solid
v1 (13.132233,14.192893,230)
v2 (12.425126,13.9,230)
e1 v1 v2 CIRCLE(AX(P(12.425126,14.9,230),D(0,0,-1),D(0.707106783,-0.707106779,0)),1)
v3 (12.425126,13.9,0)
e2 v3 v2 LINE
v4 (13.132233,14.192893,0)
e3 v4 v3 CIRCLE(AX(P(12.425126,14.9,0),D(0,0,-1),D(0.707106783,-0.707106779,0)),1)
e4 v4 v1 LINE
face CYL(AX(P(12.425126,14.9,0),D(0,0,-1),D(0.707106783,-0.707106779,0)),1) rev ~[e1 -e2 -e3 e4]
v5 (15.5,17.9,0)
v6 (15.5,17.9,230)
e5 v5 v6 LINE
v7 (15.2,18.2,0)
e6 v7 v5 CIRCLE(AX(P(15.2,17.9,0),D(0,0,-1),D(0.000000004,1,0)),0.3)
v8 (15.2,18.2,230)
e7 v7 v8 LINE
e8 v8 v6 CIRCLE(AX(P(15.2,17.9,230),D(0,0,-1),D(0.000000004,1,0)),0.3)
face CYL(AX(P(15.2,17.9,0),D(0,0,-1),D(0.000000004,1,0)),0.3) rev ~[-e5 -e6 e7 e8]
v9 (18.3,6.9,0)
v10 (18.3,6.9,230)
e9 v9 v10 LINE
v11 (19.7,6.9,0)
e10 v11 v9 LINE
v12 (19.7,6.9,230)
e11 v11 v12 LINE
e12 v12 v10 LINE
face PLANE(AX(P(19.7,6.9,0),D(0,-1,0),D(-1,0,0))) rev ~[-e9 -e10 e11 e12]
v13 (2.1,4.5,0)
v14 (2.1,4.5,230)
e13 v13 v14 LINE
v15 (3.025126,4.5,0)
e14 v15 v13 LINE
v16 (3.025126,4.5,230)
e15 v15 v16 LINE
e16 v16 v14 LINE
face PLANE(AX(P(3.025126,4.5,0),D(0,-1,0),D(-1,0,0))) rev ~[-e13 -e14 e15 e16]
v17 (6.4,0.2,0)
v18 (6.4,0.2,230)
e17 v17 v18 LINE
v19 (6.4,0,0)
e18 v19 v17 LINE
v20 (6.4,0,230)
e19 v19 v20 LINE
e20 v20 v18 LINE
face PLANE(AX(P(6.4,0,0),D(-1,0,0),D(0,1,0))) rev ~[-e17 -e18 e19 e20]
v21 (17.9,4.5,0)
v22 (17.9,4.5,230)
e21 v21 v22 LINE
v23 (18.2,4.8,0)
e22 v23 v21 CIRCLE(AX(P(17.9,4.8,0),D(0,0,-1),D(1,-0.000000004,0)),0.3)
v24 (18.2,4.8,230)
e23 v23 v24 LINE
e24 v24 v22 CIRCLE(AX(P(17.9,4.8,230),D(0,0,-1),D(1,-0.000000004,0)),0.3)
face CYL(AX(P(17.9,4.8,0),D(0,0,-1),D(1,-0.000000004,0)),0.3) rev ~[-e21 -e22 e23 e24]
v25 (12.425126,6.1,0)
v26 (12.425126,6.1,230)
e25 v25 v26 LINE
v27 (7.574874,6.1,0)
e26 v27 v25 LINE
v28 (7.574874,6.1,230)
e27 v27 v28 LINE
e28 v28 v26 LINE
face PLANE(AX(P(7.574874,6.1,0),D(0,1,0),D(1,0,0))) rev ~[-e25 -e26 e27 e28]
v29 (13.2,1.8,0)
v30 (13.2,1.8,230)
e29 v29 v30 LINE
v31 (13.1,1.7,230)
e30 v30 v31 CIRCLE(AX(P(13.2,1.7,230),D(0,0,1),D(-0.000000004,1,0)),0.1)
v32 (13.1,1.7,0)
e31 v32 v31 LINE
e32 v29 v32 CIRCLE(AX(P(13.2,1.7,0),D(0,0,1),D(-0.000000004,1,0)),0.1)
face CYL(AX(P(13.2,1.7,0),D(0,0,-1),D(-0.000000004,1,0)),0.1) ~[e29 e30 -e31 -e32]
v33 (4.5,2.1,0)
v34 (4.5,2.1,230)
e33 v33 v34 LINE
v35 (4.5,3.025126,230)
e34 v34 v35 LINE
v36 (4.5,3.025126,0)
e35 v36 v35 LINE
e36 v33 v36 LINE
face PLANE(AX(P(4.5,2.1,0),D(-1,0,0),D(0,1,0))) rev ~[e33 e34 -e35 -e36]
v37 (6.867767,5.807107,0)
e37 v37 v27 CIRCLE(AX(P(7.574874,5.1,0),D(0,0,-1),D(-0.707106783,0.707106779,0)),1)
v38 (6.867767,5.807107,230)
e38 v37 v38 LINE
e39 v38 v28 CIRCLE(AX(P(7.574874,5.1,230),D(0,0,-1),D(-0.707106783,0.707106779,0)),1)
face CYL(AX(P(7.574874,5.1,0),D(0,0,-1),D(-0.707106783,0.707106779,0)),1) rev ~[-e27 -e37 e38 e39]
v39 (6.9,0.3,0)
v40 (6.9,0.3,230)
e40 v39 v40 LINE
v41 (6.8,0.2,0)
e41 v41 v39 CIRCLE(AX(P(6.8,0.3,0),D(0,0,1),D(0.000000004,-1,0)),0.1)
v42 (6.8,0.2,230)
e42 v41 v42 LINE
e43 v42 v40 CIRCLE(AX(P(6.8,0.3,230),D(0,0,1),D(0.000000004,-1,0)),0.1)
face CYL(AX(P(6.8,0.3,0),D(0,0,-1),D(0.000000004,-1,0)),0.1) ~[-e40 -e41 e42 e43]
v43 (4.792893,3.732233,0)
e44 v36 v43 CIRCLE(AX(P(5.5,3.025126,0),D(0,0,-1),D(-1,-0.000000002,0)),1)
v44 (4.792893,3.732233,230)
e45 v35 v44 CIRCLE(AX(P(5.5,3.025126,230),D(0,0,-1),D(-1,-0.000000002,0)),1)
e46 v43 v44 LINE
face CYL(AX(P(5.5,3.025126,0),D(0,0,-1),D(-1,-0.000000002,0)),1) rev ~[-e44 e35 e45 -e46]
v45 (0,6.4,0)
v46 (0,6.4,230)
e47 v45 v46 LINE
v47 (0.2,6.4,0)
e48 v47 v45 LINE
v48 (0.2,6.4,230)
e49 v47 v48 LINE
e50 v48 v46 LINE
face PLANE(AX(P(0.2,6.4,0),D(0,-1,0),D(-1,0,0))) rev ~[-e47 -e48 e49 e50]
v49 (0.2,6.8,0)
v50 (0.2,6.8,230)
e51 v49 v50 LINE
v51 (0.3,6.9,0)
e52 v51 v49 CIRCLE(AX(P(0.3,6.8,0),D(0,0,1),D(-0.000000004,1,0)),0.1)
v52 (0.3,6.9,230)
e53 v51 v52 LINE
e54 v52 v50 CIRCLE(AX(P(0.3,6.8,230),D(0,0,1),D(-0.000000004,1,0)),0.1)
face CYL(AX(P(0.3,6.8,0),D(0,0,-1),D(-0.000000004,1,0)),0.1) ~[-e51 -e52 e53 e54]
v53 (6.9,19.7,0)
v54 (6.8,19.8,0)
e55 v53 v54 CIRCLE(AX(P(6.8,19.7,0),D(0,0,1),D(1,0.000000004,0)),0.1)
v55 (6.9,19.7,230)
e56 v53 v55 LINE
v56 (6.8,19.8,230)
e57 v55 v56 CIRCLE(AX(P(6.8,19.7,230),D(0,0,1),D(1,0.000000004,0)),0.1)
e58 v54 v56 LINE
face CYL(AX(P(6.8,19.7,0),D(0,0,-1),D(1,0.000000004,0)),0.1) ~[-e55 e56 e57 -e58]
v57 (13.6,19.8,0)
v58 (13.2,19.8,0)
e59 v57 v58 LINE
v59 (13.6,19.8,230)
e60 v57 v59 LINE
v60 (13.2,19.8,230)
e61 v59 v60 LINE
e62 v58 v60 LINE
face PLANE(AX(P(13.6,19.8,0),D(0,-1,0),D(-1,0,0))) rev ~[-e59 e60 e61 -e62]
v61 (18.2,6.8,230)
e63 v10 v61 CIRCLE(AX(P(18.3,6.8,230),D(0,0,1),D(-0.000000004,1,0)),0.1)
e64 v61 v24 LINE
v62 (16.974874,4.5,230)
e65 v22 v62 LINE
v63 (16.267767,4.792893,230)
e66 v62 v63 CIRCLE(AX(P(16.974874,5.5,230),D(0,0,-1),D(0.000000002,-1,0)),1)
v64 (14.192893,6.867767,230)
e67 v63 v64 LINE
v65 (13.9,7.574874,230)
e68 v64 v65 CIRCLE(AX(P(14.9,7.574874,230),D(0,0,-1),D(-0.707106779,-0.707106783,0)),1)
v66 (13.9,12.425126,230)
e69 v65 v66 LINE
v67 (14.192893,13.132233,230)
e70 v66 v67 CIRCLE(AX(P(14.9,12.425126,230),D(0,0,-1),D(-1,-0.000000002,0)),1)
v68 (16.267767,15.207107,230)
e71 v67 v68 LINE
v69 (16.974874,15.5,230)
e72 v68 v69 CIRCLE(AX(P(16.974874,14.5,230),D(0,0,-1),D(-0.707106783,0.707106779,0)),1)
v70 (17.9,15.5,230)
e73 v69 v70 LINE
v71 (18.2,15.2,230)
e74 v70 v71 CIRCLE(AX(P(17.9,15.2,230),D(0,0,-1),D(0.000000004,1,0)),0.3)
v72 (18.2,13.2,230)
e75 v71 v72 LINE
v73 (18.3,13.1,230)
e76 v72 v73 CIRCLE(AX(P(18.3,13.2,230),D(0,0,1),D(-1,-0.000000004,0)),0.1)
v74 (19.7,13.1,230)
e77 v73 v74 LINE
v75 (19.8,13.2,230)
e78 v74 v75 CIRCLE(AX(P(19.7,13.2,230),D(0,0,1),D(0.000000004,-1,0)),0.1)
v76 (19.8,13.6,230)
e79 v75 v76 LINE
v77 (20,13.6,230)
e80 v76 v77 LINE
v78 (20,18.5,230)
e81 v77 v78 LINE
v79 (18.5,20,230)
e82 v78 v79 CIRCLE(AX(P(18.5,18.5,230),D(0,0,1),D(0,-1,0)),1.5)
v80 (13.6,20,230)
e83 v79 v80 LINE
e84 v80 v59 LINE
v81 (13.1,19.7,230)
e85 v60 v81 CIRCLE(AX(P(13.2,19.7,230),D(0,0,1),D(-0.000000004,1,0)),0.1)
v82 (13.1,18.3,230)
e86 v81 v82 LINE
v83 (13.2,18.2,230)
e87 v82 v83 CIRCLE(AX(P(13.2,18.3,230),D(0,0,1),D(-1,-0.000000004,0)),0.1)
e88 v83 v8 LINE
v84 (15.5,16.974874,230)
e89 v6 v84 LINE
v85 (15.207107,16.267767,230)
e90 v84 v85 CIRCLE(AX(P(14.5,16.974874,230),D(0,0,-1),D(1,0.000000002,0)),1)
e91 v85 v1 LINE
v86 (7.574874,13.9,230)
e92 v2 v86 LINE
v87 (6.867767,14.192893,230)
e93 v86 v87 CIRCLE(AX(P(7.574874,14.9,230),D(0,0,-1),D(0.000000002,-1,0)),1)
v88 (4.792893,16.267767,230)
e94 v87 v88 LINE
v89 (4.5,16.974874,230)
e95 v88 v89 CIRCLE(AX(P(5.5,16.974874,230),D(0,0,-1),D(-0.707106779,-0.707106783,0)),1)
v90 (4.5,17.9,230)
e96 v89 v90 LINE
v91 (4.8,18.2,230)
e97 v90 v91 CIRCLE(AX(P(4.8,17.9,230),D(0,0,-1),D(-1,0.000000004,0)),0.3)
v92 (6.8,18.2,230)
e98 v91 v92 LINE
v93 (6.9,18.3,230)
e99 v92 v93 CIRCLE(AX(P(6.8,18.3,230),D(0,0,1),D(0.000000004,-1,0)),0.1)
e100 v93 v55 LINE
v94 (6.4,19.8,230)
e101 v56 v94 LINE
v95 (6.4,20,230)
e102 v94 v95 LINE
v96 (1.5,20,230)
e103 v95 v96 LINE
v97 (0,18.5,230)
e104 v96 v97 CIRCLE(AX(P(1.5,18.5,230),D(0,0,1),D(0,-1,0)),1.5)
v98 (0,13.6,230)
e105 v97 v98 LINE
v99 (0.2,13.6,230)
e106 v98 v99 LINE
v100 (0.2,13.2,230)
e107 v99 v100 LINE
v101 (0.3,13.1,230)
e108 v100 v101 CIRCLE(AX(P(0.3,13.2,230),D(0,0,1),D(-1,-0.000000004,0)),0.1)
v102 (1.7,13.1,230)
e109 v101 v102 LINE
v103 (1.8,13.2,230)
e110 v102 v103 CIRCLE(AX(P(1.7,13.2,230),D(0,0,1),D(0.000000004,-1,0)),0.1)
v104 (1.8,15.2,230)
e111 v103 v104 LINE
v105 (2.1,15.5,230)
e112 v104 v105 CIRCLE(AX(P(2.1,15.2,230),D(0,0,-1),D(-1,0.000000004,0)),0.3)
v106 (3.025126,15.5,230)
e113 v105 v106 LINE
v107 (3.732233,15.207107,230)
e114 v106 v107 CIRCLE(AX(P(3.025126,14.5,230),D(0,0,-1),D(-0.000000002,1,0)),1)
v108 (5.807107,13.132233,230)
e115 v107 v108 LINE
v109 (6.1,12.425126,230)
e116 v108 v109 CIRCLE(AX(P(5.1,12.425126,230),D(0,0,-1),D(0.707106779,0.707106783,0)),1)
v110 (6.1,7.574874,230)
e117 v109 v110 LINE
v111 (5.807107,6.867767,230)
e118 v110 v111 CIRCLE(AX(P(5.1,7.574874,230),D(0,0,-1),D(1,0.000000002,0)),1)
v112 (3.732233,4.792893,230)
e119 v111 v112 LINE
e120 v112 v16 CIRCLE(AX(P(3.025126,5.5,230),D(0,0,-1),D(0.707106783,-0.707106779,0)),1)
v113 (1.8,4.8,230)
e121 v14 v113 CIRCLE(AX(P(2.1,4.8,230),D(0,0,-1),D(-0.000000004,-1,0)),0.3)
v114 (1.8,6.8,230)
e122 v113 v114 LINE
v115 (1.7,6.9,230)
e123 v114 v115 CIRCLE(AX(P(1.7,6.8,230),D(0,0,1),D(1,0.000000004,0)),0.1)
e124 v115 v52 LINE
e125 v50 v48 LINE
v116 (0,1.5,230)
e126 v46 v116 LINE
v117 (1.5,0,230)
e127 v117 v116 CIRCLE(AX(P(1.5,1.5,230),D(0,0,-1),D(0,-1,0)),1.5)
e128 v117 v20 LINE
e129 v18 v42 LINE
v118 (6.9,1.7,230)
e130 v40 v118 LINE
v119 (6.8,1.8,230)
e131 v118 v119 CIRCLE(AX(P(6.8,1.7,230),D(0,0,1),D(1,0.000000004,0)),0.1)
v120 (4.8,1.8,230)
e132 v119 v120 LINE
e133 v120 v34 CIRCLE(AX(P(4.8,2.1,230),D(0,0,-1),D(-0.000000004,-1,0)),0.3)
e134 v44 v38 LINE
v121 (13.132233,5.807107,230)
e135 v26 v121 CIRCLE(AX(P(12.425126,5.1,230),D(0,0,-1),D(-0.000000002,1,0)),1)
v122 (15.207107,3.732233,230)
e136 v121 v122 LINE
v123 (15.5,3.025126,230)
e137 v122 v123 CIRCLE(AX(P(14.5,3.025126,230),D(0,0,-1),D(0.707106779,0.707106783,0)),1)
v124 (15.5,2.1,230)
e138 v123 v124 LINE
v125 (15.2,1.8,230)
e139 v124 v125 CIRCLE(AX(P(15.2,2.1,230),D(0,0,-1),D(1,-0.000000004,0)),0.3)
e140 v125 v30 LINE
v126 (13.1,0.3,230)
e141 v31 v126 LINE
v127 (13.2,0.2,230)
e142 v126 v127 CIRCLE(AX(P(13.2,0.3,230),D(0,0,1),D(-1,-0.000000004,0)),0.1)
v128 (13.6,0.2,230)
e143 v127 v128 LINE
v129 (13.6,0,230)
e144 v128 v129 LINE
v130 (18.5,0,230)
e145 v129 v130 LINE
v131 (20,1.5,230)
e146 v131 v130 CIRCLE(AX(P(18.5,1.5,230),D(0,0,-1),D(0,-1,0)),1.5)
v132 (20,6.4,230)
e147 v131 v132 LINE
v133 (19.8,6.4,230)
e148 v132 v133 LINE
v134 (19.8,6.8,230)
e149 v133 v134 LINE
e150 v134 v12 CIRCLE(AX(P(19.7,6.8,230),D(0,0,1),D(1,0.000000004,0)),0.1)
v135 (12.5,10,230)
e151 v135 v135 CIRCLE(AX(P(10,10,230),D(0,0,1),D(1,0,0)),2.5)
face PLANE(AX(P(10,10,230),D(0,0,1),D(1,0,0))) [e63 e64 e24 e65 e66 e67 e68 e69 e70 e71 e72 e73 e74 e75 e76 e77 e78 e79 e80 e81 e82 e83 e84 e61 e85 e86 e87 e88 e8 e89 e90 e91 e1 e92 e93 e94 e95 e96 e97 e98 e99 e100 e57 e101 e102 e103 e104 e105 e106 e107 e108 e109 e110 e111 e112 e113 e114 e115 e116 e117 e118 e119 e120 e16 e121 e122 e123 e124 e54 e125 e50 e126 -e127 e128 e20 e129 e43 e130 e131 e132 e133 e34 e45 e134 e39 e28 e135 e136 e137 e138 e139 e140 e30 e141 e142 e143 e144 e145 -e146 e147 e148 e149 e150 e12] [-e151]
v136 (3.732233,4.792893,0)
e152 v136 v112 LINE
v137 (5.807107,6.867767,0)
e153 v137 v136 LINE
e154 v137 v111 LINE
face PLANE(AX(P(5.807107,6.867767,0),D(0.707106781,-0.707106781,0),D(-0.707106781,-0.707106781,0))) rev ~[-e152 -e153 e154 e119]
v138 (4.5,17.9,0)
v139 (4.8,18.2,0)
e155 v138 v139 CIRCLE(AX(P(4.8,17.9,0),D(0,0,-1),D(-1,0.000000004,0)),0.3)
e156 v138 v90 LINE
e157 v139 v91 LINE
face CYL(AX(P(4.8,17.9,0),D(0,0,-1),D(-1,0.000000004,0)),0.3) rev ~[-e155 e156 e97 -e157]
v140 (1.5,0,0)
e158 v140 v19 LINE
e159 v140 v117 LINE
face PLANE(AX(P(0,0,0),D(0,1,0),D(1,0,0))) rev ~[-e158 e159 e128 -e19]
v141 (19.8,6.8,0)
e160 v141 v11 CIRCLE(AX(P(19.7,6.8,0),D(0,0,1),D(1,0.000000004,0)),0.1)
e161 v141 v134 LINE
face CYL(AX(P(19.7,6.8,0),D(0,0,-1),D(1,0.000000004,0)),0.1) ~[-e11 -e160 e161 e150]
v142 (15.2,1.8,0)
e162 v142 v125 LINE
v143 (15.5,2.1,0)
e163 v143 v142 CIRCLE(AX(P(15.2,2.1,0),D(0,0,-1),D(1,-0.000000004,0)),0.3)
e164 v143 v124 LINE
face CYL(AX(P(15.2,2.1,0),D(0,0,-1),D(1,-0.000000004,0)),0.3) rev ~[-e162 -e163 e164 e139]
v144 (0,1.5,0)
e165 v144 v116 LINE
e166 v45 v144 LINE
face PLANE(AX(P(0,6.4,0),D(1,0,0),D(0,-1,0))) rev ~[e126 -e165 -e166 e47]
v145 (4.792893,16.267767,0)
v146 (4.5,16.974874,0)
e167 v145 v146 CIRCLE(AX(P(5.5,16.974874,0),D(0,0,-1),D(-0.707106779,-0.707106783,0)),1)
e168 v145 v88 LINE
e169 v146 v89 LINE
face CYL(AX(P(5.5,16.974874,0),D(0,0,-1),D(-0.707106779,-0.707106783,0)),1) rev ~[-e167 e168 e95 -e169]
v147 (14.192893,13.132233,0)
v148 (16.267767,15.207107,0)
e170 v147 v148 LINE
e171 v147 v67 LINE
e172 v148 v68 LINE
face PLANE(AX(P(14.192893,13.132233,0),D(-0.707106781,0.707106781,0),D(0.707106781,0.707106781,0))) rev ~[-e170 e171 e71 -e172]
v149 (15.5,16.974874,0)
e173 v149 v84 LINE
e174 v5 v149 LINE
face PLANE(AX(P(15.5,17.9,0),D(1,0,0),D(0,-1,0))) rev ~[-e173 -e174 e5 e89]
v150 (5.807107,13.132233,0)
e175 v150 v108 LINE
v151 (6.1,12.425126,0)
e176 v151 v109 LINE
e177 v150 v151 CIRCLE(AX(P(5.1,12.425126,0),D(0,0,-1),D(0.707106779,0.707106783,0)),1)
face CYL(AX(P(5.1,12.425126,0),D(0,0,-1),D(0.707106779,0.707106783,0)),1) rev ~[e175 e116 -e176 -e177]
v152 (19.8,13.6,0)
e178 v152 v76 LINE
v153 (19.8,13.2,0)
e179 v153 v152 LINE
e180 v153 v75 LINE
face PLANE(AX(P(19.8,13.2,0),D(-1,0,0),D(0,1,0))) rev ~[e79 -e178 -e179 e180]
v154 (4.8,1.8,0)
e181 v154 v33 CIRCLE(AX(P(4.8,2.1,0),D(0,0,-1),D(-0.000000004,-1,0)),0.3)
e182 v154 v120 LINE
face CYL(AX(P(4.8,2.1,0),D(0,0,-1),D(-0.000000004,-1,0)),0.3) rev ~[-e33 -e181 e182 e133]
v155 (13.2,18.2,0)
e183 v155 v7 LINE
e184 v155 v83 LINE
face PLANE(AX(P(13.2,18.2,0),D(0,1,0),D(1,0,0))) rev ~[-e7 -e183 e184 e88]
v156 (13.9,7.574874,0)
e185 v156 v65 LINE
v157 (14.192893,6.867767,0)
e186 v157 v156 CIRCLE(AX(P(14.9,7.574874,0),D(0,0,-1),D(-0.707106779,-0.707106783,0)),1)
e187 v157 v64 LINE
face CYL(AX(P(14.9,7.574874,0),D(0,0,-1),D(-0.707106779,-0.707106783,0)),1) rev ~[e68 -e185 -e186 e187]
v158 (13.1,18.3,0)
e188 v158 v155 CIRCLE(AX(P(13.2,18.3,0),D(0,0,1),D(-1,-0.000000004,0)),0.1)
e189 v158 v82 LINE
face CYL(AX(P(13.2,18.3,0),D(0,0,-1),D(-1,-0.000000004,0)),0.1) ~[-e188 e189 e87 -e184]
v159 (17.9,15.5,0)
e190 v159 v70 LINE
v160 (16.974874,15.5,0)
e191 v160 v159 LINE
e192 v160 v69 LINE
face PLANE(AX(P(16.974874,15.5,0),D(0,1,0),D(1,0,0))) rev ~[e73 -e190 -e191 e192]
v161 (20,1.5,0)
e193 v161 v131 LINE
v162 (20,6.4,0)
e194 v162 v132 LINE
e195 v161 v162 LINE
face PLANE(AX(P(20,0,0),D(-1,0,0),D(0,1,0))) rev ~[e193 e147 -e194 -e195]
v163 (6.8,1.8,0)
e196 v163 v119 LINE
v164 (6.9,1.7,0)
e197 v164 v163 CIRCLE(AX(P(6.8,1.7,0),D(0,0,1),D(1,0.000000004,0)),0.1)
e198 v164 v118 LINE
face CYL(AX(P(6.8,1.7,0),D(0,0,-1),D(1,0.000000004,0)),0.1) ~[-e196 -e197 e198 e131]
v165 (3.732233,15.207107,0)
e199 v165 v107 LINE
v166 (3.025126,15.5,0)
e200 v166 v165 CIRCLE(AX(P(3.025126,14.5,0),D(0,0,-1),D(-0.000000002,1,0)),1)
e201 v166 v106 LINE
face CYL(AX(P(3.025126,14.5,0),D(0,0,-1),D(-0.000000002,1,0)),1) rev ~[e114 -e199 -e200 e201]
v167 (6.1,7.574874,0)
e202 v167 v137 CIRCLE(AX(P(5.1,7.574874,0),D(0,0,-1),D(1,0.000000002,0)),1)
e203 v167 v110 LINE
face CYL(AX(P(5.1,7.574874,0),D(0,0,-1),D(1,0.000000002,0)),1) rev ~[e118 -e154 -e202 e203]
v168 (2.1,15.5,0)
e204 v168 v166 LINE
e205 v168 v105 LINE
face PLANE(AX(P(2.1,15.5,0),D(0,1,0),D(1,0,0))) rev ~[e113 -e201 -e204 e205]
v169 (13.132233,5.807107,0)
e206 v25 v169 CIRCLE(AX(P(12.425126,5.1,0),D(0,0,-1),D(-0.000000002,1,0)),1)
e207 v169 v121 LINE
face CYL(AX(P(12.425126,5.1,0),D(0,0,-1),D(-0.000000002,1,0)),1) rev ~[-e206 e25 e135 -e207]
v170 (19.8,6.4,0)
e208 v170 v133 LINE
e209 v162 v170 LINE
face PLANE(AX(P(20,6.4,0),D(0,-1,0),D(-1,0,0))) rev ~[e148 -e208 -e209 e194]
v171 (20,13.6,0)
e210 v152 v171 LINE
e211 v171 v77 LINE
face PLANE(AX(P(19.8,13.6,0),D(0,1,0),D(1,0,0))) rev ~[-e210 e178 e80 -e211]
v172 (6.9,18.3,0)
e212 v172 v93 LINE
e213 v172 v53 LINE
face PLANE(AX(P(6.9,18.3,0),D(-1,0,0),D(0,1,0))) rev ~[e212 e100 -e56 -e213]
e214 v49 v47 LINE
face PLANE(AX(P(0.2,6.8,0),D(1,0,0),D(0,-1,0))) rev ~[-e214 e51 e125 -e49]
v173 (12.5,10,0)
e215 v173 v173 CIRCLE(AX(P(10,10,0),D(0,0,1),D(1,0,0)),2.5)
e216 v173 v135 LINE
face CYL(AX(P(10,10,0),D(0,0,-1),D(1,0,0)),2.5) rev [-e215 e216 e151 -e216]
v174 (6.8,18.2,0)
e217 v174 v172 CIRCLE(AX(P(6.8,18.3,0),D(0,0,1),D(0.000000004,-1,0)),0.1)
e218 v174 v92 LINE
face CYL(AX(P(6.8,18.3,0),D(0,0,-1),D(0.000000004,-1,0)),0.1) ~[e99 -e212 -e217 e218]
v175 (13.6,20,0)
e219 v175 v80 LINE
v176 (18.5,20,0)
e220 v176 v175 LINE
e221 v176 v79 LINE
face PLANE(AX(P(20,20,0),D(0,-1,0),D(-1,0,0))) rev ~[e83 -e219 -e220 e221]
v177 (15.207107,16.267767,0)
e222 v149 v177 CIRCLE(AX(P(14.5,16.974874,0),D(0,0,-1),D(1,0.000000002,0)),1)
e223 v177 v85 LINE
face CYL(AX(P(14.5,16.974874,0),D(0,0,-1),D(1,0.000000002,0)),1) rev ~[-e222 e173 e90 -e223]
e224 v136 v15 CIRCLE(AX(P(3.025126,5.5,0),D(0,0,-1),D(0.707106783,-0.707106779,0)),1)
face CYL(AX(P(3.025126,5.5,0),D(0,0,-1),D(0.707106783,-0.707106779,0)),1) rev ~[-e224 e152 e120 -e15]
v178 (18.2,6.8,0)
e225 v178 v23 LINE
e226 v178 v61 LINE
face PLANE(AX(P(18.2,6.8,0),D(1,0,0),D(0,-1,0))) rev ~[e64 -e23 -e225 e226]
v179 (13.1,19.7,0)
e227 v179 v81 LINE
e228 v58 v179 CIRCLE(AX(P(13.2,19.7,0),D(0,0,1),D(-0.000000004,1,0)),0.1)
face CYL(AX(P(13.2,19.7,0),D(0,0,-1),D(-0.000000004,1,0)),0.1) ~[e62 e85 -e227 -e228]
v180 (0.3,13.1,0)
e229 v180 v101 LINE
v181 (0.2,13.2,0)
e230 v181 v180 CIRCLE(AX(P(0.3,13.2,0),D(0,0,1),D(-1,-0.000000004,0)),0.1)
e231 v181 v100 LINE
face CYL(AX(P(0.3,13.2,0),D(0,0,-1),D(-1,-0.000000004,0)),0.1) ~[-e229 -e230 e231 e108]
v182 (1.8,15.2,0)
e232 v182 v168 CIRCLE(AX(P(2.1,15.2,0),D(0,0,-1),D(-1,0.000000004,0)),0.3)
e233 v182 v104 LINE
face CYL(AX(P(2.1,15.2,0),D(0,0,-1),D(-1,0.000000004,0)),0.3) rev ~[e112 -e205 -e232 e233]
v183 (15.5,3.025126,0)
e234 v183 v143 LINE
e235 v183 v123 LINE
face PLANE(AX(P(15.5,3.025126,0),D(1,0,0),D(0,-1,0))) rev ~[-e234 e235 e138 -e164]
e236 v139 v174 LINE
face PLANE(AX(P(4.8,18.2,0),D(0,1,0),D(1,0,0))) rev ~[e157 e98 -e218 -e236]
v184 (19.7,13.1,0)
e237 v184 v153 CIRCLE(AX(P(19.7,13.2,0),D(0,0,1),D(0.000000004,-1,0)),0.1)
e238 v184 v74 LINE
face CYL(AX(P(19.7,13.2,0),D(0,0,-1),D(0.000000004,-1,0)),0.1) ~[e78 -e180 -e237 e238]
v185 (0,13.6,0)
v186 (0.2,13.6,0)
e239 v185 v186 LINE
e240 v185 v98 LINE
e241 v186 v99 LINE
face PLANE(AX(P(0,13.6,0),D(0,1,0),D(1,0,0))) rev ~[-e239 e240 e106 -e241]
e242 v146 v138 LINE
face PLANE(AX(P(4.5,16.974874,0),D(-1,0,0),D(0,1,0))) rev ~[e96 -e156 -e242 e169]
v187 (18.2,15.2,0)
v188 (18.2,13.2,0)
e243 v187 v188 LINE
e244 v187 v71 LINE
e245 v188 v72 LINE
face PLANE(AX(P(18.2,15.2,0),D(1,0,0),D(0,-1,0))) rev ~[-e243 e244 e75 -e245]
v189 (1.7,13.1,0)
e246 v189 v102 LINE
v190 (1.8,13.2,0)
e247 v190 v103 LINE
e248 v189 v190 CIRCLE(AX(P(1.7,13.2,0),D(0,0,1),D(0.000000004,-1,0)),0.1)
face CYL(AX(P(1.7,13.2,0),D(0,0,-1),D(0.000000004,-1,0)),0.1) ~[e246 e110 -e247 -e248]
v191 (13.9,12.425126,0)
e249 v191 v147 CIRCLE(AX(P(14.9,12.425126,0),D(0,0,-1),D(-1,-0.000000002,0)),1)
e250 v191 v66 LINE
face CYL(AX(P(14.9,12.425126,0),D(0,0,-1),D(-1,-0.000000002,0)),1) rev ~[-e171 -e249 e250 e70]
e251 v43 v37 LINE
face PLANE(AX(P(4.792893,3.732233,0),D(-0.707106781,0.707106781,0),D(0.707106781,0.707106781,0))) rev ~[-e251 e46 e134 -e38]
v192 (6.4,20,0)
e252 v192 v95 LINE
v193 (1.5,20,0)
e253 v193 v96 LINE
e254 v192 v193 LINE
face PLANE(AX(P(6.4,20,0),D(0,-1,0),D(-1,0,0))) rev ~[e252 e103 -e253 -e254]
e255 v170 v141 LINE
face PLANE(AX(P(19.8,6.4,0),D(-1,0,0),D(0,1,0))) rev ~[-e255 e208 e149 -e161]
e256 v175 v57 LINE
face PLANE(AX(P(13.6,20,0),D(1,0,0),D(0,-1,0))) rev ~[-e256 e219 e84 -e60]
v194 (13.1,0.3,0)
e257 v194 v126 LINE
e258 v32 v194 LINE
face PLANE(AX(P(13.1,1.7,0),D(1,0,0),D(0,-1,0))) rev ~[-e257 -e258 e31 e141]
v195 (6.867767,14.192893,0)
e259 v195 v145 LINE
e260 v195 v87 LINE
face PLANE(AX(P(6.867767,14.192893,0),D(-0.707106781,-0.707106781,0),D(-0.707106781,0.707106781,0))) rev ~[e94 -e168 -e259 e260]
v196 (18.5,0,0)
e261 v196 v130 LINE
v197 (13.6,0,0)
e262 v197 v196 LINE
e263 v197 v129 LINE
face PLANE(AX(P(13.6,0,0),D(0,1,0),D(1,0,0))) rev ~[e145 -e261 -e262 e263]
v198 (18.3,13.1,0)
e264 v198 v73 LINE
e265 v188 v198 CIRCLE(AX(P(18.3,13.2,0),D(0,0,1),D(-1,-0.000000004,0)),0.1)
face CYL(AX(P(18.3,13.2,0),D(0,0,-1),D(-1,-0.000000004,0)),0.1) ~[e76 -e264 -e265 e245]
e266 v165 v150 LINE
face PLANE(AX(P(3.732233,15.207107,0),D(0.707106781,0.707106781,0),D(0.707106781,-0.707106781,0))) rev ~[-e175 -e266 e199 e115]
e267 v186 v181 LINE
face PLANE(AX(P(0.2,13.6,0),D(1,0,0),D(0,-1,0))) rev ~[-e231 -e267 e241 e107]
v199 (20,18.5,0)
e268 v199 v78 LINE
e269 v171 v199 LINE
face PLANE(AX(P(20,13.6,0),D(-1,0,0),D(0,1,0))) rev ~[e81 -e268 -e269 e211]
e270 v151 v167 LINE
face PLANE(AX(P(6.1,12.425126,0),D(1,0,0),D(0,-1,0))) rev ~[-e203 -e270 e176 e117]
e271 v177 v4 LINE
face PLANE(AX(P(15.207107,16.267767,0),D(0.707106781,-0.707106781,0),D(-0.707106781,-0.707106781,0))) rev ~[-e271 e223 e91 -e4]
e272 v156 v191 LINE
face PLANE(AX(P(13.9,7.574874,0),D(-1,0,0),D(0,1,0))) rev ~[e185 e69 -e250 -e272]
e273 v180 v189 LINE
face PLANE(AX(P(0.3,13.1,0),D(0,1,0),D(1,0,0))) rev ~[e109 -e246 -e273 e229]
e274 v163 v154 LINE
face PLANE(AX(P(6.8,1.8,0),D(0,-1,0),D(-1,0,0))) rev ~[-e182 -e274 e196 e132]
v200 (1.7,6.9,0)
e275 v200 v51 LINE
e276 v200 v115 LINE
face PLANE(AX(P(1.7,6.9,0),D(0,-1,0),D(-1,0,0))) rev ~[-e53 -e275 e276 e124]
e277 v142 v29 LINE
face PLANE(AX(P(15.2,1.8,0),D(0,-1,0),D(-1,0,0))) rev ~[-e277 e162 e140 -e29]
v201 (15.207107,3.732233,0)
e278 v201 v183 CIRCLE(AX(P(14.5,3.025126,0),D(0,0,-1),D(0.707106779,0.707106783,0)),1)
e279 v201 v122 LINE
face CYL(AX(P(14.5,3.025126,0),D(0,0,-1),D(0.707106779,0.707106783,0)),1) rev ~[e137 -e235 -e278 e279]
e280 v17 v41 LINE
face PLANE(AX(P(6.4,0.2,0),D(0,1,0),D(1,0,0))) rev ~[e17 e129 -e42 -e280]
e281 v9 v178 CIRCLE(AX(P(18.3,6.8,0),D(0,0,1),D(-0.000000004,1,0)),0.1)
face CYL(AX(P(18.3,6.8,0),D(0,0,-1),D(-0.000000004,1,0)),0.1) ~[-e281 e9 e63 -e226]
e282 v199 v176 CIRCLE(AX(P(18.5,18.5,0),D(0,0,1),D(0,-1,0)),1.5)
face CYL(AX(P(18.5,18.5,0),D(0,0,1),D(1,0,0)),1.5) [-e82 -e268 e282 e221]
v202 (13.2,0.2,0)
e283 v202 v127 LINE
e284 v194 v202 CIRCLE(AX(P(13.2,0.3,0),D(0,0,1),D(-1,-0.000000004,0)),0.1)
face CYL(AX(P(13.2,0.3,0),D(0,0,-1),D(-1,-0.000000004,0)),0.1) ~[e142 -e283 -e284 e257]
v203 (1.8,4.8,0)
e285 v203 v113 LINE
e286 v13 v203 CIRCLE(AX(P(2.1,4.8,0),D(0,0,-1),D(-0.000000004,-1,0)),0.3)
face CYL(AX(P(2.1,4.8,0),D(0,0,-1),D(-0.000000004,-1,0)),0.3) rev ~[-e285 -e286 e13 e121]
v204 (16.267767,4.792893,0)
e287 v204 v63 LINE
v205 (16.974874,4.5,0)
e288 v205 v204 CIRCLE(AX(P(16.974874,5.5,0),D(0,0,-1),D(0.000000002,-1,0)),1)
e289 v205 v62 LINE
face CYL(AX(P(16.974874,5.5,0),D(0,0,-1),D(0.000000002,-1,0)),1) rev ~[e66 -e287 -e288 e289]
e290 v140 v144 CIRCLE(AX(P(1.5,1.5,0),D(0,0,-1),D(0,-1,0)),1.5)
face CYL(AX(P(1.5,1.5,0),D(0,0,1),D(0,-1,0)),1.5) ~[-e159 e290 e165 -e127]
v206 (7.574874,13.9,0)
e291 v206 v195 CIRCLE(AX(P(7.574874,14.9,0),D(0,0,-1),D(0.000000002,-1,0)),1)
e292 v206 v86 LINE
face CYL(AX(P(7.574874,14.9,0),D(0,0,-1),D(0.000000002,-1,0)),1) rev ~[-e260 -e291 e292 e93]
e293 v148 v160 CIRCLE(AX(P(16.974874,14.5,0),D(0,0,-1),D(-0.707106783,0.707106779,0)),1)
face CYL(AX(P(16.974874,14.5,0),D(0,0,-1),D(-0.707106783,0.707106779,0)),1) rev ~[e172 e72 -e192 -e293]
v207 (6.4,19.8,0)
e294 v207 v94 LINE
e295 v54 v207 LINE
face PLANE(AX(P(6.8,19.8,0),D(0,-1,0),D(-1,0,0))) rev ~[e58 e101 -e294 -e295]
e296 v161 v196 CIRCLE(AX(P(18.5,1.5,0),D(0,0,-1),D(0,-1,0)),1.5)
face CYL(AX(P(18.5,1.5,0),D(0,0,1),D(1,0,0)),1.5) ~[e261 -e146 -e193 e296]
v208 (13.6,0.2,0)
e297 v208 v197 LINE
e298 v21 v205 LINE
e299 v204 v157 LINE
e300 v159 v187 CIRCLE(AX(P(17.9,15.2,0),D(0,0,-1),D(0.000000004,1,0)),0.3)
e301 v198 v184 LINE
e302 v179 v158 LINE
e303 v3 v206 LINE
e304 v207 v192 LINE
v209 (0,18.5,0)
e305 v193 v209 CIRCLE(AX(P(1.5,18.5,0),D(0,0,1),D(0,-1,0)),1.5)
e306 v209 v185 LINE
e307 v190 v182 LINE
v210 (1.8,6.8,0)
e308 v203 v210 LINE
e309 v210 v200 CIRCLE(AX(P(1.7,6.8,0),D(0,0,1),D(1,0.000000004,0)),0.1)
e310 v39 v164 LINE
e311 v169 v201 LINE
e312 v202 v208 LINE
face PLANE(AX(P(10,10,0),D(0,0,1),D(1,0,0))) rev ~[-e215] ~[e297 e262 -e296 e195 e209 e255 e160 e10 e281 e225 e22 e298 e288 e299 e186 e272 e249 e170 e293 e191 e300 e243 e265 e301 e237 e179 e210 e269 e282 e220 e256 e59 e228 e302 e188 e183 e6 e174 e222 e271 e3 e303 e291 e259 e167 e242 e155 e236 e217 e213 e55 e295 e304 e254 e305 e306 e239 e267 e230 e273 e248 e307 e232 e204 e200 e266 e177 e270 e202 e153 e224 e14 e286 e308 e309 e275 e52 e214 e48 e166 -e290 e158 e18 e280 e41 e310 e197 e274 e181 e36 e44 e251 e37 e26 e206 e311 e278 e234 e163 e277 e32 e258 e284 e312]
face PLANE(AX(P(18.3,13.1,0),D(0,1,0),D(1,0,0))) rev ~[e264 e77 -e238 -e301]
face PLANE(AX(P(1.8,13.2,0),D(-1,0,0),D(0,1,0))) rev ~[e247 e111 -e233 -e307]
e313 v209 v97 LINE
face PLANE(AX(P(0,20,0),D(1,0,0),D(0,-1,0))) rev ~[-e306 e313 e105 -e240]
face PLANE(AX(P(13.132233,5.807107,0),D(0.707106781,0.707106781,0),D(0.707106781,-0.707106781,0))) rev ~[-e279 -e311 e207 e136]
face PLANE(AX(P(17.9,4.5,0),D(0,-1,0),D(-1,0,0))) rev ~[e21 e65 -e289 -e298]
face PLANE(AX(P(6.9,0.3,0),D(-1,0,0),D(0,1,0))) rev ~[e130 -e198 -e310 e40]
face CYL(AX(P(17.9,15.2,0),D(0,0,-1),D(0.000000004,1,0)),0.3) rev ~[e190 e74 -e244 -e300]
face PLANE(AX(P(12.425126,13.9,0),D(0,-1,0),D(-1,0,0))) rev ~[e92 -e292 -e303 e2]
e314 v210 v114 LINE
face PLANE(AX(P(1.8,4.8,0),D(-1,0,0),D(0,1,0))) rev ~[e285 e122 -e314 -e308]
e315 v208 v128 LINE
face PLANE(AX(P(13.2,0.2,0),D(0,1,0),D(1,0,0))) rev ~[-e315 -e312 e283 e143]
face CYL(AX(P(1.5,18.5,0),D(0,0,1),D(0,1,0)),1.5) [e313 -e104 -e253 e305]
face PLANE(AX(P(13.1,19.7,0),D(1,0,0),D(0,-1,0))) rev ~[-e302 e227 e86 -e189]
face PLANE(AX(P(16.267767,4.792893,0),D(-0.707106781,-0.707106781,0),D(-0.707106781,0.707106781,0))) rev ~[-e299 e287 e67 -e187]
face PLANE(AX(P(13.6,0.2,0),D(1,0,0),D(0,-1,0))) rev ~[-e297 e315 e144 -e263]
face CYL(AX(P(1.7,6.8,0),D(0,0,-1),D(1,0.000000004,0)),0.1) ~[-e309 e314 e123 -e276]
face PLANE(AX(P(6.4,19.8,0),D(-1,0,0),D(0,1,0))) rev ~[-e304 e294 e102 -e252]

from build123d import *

# Parameters (mm, degrees)
SKETCH_1_R      = 2.5
EXTRUDE_1_DEPTH = 230
FILLET_1_R      = 1.5


with BuildPart() as part:
    # 草图1 → 凸台-拉伸1 (new body)
    with BuildSketch(Plane.XY):
        with BuildLine():
            Line((20, 13.6), (20, 20))
            Line((20, 20), (13.6, 20))
            Line((13.6, 20), (13.6, 19.8))
            Line((13.6, 19.8), (13.2, 19.8))
            ThreePointArc((13.2, 19.8), (13.129289322, 19.770710678), (13.1, 19.7))
            Line((13.1, 19.7), (13.1, 18.3))
            ThreePointArc((13.1, 18.3), (13.129289322, 18.229289322), (13.2, 18.2))
            Line((13.2, 18.2), (15.2, 18.2))
            ThreePointArc((15.2, 18.2), (15.412132034, 18.112132034), (15.5, 17.9))
            Line((15.5, 17.9), (15.5, 16.974873734))
            ThreePointArc((15.5, 16.974873734), (15.423879533, 16.592190302), (15.207106781, 16.267766953))
            Line((15.207106781, 16.267766953), (13.132233047, 14.192893219))
            ThreePointArc((13.132233047, 14.192893219), (12.807809698, 13.976120467), (12.425126266, 13.9))
            Line((12.425126266, 13.9), (7.574873734, 13.9))
            ThreePointArc((7.574873734, 13.9), (7.192190302, 13.976120467), (6.867766953, 14.192893219))
            Line((6.867766953, 14.192893219), (4.792893219, 16.267766953))
            ThreePointArc((4.792893219, 16.267766953), (4.576120467, 16.592190302), (4.5, 16.974873734))
            Line((4.5, 16.974873734), (4.5, 17.9))
            ThreePointArc((4.5, 17.9), (4.587867966, 18.112132034), (4.8, 18.2))
            Line((4.8, 18.2), (6.8, 18.2))
            ThreePointArc((6.8, 18.2), (6.870710678, 18.229289322), (6.9, 18.3))
            Line((6.9, 18.3), (6.9, 19.7))
            ThreePointArc((6.9, 19.7), (6.870710678, 19.770710678), (6.8, 19.8))
            Line((6.8, 19.8), (6.4, 19.8))
            Line((6.4, 19.8), (6.4, 20))
            Line((6.4, 20), (0, 20))
            Line((0, 20), (0, 13.6))
            Line((0, 13.6), (0.2, 13.6))
            Line((0.2, 13.6), (0.2, 13.2))
            ThreePointArc((0.2, 13.2), (0.229289322, 13.129289322), (0.3, 13.1))
            Line((0.3, 13.1), (1.7, 13.1))
            ThreePointArc((1.7, 13.1), (1.770710678, 13.129289322), (1.8, 13.2))
            Line((1.8, 13.2), (1.8, 15.2))
            ThreePointArc((1.8, 15.2), (1.887867966, 15.412132034), (2.1, 15.5))
            Line((2.1, 15.5), (3.025126266, 15.5))
            ThreePointArc((3.025126266, 15.5), (3.407809698, 15.423879533), (3.732233047, 15.207106781))
            Line((3.732233047, 15.207106781), (5.807106781, 13.132233047))
            ThreePointArc((5.807106781, 13.132233047), (6.023879533, 12.807809698), (6.1, 12.425126266))
            Line((6.1, 12.425126266), (6.1, 7.574873734))
            ThreePointArc((6.1, 7.574873734), (6.023879533, 7.192190302), (5.807106781, 6.867766953))
            Line((5.807106781, 6.867766953), (3.732233047, 4.792893219))
            ThreePointArc((3.732233047, 4.792893219), (3.407809698, 4.576120467), (3.025126266, 4.5))
            Line((3.025126266, 4.5), (2.1, 4.5))
            ThreePointArc((2.1, 4.5), (1.887867966, 4.587867966), (1.8, 4.8))
            Line((1.8, 4.8), (1.8, 6.8))
            ThreePointArc((1.8, 6.8), (1.770710678, 6.870710678), (1.7, 6.9))
            Line((1.7, 6.9), (0.3, 6.9))
            ThreePointArc((0.3, 6.9), (0.229289322, 6.870710678), (0.2, 6.8))
            Line((0.2, 6.8), (0.2, 6.4))
            Line((0.2, 6.4), (0, 6.4))
            Line((0, 6.4), (0, 0))
            Line((0, 0), (6.4, 0))
            Line((6.4, 0), (6.4, 0.2))
            Line((6.4, 0.2), (6.8, 0.2))
            ThreePointArc((6.8, 0.2), (6.870710678, 0.229289322), (6.9, 0.3))
            Line((6.9, 0.3), (6.9, 1.7))
            ThreePointArc((6.9, 1.7), (6.870710678, 1.770710678), (6.8, 1.8))
            Line((6.8, 1.8), (4.8, 1.8))
            ThreePointArc((4.8, 1.8), (4.587867966, 1.887867966), (4.5, 2.1))
            Line((4.5, 2.1), (4.5, 3.025126266))
            ThreePointArc((4.5, 3.025126266), (4.576120467, 3.407809698), (4.792893219, 3.732233047))
            Line((4.792893219, 3.732233047), (6.867766953, 5.807106781))
            ThreePointArc((6.867766953, 5.807106781), (7.192190302, 6.023879533), (7.574873734, 6.1))
            Line((7.574873734, 6.1), (12.425126266, 6.1))
            ThreePointArc((12.425126266, 6.1), (12.807809698, 6.023879533), (13.132233047, 5.807106781))
            Line((13.132233047, 5.807106781), (15.207106781, 3.732233047))
            ThreePointArc((15.207106781, 3.732233047), (15.423879533, 3.407809698), (15.5, 3.025126266))
            Line((15.5, 3.025126266), (15.5, 2.1))
            ThreePointArc((15.5, 2.1), (15.412132034, 1.887867966), (15.2, 1.8))
            Line((15.2, 1.8), (13.2, 1.8))
            ThreePointArc((13.2, 1.8), (13.129289322, 1.770710678), (13.1, 1.7))
            Line((13.1, 1.7), (13.1, 0.3))
            ThreePointArc((13.1, 0.3), (13.129289322, 0.229289322), (13.2, 0.2))
            Line((13.2, 0.2), (13.6, 0.2))
            Line((13.6, 0.2), (13.6, 0))
            Line((13.6, 0), (20, 0))
            Line((20, 0), (20, 6.4))
            Line((20, 6.4), (19.8, 6.4))
            Line((19.8, 6.4), (19.8, 6.8))
            ThreePointArc((19.8, 6.8), (19.770710678, 6.870710678), (19.7, 6.9))
            Line((19.7, 6.9), (18.3, 6.9))
            ThreePointArc((18.3, 6.9), (18.229289322, 6.870710678), (18.2, 6.8))
            Line((18.2, 6.8), (18.2, 4.8))
            ThreePointArc((18.2, 4.8), (18.112132034, 4.587867966), (17.9, 4.5))
            Line((17.9, 4.5), (16.974873734, 4.5))
            ThreePointArc((16.974873734, 4.5), (16.592190302, 4.576120467), (16.267766953, 4.792893219))
            Line((16.267766953, 4.792893219), (14.192893219, 6.867766953))
            ThreePointArc((14.192893219, 6.867766953), (13.976120467, 7.192190302), (13.9, 7.574873734))
            Line((13.9, 7.574873734), (13.9, 12.425126266))
            ThreePointArc((13.9, 12.425126266), (13.976120467, 12.807809698), (14.192893219, 13.132233047))
            Line((14.192893219, 13.132233047), (16.267766953, 15.207106781))
            ThreePointArc((16.267766953, 15.207106781), (16.592190302, 15.423879533), (16.974873734, 15.5))
            Line((16.974873734, 15.5), (17.9, 15.5))
            ThreePointArc((17.9, 15.5), (18.112132034, 15.412132034), (18.2, 15.2))
            Line((18.2, 15.2), (18.2, 13.2))
            ThreePointArc((18.2, 13.2), (18.229289322, 13.129289322), (18.3, 13.1))
            Line((18.3, 13.1), (19.7, 13.1))
            ThreePointArc((19.7, 13.1), (19.770710678, 13.129289322), (19.8, 13.2))
            Line((19.8, 13.2), (19.8, 13.6))
            Line((19.8, 13.6), (20, 13.6))
        make_face()
        with Locations((10, 10)):
            Circle(SKETCH_1_R, mode=Mode.SUBTRACT)
    extrude(amount=EXTRUDE_1_DEPTH)

    # 圆角1
    fillet_1_edges = [part.edges().sort_by_distance(p)[0] for p in [
        (0, 0, 115),
        (0, 20, 115),
        (20, 20, 115),
        (20, 0, 115),
    ]]
    fillet(fillet_1_edges, radius=FILLET_1_R)


solid = part.part
